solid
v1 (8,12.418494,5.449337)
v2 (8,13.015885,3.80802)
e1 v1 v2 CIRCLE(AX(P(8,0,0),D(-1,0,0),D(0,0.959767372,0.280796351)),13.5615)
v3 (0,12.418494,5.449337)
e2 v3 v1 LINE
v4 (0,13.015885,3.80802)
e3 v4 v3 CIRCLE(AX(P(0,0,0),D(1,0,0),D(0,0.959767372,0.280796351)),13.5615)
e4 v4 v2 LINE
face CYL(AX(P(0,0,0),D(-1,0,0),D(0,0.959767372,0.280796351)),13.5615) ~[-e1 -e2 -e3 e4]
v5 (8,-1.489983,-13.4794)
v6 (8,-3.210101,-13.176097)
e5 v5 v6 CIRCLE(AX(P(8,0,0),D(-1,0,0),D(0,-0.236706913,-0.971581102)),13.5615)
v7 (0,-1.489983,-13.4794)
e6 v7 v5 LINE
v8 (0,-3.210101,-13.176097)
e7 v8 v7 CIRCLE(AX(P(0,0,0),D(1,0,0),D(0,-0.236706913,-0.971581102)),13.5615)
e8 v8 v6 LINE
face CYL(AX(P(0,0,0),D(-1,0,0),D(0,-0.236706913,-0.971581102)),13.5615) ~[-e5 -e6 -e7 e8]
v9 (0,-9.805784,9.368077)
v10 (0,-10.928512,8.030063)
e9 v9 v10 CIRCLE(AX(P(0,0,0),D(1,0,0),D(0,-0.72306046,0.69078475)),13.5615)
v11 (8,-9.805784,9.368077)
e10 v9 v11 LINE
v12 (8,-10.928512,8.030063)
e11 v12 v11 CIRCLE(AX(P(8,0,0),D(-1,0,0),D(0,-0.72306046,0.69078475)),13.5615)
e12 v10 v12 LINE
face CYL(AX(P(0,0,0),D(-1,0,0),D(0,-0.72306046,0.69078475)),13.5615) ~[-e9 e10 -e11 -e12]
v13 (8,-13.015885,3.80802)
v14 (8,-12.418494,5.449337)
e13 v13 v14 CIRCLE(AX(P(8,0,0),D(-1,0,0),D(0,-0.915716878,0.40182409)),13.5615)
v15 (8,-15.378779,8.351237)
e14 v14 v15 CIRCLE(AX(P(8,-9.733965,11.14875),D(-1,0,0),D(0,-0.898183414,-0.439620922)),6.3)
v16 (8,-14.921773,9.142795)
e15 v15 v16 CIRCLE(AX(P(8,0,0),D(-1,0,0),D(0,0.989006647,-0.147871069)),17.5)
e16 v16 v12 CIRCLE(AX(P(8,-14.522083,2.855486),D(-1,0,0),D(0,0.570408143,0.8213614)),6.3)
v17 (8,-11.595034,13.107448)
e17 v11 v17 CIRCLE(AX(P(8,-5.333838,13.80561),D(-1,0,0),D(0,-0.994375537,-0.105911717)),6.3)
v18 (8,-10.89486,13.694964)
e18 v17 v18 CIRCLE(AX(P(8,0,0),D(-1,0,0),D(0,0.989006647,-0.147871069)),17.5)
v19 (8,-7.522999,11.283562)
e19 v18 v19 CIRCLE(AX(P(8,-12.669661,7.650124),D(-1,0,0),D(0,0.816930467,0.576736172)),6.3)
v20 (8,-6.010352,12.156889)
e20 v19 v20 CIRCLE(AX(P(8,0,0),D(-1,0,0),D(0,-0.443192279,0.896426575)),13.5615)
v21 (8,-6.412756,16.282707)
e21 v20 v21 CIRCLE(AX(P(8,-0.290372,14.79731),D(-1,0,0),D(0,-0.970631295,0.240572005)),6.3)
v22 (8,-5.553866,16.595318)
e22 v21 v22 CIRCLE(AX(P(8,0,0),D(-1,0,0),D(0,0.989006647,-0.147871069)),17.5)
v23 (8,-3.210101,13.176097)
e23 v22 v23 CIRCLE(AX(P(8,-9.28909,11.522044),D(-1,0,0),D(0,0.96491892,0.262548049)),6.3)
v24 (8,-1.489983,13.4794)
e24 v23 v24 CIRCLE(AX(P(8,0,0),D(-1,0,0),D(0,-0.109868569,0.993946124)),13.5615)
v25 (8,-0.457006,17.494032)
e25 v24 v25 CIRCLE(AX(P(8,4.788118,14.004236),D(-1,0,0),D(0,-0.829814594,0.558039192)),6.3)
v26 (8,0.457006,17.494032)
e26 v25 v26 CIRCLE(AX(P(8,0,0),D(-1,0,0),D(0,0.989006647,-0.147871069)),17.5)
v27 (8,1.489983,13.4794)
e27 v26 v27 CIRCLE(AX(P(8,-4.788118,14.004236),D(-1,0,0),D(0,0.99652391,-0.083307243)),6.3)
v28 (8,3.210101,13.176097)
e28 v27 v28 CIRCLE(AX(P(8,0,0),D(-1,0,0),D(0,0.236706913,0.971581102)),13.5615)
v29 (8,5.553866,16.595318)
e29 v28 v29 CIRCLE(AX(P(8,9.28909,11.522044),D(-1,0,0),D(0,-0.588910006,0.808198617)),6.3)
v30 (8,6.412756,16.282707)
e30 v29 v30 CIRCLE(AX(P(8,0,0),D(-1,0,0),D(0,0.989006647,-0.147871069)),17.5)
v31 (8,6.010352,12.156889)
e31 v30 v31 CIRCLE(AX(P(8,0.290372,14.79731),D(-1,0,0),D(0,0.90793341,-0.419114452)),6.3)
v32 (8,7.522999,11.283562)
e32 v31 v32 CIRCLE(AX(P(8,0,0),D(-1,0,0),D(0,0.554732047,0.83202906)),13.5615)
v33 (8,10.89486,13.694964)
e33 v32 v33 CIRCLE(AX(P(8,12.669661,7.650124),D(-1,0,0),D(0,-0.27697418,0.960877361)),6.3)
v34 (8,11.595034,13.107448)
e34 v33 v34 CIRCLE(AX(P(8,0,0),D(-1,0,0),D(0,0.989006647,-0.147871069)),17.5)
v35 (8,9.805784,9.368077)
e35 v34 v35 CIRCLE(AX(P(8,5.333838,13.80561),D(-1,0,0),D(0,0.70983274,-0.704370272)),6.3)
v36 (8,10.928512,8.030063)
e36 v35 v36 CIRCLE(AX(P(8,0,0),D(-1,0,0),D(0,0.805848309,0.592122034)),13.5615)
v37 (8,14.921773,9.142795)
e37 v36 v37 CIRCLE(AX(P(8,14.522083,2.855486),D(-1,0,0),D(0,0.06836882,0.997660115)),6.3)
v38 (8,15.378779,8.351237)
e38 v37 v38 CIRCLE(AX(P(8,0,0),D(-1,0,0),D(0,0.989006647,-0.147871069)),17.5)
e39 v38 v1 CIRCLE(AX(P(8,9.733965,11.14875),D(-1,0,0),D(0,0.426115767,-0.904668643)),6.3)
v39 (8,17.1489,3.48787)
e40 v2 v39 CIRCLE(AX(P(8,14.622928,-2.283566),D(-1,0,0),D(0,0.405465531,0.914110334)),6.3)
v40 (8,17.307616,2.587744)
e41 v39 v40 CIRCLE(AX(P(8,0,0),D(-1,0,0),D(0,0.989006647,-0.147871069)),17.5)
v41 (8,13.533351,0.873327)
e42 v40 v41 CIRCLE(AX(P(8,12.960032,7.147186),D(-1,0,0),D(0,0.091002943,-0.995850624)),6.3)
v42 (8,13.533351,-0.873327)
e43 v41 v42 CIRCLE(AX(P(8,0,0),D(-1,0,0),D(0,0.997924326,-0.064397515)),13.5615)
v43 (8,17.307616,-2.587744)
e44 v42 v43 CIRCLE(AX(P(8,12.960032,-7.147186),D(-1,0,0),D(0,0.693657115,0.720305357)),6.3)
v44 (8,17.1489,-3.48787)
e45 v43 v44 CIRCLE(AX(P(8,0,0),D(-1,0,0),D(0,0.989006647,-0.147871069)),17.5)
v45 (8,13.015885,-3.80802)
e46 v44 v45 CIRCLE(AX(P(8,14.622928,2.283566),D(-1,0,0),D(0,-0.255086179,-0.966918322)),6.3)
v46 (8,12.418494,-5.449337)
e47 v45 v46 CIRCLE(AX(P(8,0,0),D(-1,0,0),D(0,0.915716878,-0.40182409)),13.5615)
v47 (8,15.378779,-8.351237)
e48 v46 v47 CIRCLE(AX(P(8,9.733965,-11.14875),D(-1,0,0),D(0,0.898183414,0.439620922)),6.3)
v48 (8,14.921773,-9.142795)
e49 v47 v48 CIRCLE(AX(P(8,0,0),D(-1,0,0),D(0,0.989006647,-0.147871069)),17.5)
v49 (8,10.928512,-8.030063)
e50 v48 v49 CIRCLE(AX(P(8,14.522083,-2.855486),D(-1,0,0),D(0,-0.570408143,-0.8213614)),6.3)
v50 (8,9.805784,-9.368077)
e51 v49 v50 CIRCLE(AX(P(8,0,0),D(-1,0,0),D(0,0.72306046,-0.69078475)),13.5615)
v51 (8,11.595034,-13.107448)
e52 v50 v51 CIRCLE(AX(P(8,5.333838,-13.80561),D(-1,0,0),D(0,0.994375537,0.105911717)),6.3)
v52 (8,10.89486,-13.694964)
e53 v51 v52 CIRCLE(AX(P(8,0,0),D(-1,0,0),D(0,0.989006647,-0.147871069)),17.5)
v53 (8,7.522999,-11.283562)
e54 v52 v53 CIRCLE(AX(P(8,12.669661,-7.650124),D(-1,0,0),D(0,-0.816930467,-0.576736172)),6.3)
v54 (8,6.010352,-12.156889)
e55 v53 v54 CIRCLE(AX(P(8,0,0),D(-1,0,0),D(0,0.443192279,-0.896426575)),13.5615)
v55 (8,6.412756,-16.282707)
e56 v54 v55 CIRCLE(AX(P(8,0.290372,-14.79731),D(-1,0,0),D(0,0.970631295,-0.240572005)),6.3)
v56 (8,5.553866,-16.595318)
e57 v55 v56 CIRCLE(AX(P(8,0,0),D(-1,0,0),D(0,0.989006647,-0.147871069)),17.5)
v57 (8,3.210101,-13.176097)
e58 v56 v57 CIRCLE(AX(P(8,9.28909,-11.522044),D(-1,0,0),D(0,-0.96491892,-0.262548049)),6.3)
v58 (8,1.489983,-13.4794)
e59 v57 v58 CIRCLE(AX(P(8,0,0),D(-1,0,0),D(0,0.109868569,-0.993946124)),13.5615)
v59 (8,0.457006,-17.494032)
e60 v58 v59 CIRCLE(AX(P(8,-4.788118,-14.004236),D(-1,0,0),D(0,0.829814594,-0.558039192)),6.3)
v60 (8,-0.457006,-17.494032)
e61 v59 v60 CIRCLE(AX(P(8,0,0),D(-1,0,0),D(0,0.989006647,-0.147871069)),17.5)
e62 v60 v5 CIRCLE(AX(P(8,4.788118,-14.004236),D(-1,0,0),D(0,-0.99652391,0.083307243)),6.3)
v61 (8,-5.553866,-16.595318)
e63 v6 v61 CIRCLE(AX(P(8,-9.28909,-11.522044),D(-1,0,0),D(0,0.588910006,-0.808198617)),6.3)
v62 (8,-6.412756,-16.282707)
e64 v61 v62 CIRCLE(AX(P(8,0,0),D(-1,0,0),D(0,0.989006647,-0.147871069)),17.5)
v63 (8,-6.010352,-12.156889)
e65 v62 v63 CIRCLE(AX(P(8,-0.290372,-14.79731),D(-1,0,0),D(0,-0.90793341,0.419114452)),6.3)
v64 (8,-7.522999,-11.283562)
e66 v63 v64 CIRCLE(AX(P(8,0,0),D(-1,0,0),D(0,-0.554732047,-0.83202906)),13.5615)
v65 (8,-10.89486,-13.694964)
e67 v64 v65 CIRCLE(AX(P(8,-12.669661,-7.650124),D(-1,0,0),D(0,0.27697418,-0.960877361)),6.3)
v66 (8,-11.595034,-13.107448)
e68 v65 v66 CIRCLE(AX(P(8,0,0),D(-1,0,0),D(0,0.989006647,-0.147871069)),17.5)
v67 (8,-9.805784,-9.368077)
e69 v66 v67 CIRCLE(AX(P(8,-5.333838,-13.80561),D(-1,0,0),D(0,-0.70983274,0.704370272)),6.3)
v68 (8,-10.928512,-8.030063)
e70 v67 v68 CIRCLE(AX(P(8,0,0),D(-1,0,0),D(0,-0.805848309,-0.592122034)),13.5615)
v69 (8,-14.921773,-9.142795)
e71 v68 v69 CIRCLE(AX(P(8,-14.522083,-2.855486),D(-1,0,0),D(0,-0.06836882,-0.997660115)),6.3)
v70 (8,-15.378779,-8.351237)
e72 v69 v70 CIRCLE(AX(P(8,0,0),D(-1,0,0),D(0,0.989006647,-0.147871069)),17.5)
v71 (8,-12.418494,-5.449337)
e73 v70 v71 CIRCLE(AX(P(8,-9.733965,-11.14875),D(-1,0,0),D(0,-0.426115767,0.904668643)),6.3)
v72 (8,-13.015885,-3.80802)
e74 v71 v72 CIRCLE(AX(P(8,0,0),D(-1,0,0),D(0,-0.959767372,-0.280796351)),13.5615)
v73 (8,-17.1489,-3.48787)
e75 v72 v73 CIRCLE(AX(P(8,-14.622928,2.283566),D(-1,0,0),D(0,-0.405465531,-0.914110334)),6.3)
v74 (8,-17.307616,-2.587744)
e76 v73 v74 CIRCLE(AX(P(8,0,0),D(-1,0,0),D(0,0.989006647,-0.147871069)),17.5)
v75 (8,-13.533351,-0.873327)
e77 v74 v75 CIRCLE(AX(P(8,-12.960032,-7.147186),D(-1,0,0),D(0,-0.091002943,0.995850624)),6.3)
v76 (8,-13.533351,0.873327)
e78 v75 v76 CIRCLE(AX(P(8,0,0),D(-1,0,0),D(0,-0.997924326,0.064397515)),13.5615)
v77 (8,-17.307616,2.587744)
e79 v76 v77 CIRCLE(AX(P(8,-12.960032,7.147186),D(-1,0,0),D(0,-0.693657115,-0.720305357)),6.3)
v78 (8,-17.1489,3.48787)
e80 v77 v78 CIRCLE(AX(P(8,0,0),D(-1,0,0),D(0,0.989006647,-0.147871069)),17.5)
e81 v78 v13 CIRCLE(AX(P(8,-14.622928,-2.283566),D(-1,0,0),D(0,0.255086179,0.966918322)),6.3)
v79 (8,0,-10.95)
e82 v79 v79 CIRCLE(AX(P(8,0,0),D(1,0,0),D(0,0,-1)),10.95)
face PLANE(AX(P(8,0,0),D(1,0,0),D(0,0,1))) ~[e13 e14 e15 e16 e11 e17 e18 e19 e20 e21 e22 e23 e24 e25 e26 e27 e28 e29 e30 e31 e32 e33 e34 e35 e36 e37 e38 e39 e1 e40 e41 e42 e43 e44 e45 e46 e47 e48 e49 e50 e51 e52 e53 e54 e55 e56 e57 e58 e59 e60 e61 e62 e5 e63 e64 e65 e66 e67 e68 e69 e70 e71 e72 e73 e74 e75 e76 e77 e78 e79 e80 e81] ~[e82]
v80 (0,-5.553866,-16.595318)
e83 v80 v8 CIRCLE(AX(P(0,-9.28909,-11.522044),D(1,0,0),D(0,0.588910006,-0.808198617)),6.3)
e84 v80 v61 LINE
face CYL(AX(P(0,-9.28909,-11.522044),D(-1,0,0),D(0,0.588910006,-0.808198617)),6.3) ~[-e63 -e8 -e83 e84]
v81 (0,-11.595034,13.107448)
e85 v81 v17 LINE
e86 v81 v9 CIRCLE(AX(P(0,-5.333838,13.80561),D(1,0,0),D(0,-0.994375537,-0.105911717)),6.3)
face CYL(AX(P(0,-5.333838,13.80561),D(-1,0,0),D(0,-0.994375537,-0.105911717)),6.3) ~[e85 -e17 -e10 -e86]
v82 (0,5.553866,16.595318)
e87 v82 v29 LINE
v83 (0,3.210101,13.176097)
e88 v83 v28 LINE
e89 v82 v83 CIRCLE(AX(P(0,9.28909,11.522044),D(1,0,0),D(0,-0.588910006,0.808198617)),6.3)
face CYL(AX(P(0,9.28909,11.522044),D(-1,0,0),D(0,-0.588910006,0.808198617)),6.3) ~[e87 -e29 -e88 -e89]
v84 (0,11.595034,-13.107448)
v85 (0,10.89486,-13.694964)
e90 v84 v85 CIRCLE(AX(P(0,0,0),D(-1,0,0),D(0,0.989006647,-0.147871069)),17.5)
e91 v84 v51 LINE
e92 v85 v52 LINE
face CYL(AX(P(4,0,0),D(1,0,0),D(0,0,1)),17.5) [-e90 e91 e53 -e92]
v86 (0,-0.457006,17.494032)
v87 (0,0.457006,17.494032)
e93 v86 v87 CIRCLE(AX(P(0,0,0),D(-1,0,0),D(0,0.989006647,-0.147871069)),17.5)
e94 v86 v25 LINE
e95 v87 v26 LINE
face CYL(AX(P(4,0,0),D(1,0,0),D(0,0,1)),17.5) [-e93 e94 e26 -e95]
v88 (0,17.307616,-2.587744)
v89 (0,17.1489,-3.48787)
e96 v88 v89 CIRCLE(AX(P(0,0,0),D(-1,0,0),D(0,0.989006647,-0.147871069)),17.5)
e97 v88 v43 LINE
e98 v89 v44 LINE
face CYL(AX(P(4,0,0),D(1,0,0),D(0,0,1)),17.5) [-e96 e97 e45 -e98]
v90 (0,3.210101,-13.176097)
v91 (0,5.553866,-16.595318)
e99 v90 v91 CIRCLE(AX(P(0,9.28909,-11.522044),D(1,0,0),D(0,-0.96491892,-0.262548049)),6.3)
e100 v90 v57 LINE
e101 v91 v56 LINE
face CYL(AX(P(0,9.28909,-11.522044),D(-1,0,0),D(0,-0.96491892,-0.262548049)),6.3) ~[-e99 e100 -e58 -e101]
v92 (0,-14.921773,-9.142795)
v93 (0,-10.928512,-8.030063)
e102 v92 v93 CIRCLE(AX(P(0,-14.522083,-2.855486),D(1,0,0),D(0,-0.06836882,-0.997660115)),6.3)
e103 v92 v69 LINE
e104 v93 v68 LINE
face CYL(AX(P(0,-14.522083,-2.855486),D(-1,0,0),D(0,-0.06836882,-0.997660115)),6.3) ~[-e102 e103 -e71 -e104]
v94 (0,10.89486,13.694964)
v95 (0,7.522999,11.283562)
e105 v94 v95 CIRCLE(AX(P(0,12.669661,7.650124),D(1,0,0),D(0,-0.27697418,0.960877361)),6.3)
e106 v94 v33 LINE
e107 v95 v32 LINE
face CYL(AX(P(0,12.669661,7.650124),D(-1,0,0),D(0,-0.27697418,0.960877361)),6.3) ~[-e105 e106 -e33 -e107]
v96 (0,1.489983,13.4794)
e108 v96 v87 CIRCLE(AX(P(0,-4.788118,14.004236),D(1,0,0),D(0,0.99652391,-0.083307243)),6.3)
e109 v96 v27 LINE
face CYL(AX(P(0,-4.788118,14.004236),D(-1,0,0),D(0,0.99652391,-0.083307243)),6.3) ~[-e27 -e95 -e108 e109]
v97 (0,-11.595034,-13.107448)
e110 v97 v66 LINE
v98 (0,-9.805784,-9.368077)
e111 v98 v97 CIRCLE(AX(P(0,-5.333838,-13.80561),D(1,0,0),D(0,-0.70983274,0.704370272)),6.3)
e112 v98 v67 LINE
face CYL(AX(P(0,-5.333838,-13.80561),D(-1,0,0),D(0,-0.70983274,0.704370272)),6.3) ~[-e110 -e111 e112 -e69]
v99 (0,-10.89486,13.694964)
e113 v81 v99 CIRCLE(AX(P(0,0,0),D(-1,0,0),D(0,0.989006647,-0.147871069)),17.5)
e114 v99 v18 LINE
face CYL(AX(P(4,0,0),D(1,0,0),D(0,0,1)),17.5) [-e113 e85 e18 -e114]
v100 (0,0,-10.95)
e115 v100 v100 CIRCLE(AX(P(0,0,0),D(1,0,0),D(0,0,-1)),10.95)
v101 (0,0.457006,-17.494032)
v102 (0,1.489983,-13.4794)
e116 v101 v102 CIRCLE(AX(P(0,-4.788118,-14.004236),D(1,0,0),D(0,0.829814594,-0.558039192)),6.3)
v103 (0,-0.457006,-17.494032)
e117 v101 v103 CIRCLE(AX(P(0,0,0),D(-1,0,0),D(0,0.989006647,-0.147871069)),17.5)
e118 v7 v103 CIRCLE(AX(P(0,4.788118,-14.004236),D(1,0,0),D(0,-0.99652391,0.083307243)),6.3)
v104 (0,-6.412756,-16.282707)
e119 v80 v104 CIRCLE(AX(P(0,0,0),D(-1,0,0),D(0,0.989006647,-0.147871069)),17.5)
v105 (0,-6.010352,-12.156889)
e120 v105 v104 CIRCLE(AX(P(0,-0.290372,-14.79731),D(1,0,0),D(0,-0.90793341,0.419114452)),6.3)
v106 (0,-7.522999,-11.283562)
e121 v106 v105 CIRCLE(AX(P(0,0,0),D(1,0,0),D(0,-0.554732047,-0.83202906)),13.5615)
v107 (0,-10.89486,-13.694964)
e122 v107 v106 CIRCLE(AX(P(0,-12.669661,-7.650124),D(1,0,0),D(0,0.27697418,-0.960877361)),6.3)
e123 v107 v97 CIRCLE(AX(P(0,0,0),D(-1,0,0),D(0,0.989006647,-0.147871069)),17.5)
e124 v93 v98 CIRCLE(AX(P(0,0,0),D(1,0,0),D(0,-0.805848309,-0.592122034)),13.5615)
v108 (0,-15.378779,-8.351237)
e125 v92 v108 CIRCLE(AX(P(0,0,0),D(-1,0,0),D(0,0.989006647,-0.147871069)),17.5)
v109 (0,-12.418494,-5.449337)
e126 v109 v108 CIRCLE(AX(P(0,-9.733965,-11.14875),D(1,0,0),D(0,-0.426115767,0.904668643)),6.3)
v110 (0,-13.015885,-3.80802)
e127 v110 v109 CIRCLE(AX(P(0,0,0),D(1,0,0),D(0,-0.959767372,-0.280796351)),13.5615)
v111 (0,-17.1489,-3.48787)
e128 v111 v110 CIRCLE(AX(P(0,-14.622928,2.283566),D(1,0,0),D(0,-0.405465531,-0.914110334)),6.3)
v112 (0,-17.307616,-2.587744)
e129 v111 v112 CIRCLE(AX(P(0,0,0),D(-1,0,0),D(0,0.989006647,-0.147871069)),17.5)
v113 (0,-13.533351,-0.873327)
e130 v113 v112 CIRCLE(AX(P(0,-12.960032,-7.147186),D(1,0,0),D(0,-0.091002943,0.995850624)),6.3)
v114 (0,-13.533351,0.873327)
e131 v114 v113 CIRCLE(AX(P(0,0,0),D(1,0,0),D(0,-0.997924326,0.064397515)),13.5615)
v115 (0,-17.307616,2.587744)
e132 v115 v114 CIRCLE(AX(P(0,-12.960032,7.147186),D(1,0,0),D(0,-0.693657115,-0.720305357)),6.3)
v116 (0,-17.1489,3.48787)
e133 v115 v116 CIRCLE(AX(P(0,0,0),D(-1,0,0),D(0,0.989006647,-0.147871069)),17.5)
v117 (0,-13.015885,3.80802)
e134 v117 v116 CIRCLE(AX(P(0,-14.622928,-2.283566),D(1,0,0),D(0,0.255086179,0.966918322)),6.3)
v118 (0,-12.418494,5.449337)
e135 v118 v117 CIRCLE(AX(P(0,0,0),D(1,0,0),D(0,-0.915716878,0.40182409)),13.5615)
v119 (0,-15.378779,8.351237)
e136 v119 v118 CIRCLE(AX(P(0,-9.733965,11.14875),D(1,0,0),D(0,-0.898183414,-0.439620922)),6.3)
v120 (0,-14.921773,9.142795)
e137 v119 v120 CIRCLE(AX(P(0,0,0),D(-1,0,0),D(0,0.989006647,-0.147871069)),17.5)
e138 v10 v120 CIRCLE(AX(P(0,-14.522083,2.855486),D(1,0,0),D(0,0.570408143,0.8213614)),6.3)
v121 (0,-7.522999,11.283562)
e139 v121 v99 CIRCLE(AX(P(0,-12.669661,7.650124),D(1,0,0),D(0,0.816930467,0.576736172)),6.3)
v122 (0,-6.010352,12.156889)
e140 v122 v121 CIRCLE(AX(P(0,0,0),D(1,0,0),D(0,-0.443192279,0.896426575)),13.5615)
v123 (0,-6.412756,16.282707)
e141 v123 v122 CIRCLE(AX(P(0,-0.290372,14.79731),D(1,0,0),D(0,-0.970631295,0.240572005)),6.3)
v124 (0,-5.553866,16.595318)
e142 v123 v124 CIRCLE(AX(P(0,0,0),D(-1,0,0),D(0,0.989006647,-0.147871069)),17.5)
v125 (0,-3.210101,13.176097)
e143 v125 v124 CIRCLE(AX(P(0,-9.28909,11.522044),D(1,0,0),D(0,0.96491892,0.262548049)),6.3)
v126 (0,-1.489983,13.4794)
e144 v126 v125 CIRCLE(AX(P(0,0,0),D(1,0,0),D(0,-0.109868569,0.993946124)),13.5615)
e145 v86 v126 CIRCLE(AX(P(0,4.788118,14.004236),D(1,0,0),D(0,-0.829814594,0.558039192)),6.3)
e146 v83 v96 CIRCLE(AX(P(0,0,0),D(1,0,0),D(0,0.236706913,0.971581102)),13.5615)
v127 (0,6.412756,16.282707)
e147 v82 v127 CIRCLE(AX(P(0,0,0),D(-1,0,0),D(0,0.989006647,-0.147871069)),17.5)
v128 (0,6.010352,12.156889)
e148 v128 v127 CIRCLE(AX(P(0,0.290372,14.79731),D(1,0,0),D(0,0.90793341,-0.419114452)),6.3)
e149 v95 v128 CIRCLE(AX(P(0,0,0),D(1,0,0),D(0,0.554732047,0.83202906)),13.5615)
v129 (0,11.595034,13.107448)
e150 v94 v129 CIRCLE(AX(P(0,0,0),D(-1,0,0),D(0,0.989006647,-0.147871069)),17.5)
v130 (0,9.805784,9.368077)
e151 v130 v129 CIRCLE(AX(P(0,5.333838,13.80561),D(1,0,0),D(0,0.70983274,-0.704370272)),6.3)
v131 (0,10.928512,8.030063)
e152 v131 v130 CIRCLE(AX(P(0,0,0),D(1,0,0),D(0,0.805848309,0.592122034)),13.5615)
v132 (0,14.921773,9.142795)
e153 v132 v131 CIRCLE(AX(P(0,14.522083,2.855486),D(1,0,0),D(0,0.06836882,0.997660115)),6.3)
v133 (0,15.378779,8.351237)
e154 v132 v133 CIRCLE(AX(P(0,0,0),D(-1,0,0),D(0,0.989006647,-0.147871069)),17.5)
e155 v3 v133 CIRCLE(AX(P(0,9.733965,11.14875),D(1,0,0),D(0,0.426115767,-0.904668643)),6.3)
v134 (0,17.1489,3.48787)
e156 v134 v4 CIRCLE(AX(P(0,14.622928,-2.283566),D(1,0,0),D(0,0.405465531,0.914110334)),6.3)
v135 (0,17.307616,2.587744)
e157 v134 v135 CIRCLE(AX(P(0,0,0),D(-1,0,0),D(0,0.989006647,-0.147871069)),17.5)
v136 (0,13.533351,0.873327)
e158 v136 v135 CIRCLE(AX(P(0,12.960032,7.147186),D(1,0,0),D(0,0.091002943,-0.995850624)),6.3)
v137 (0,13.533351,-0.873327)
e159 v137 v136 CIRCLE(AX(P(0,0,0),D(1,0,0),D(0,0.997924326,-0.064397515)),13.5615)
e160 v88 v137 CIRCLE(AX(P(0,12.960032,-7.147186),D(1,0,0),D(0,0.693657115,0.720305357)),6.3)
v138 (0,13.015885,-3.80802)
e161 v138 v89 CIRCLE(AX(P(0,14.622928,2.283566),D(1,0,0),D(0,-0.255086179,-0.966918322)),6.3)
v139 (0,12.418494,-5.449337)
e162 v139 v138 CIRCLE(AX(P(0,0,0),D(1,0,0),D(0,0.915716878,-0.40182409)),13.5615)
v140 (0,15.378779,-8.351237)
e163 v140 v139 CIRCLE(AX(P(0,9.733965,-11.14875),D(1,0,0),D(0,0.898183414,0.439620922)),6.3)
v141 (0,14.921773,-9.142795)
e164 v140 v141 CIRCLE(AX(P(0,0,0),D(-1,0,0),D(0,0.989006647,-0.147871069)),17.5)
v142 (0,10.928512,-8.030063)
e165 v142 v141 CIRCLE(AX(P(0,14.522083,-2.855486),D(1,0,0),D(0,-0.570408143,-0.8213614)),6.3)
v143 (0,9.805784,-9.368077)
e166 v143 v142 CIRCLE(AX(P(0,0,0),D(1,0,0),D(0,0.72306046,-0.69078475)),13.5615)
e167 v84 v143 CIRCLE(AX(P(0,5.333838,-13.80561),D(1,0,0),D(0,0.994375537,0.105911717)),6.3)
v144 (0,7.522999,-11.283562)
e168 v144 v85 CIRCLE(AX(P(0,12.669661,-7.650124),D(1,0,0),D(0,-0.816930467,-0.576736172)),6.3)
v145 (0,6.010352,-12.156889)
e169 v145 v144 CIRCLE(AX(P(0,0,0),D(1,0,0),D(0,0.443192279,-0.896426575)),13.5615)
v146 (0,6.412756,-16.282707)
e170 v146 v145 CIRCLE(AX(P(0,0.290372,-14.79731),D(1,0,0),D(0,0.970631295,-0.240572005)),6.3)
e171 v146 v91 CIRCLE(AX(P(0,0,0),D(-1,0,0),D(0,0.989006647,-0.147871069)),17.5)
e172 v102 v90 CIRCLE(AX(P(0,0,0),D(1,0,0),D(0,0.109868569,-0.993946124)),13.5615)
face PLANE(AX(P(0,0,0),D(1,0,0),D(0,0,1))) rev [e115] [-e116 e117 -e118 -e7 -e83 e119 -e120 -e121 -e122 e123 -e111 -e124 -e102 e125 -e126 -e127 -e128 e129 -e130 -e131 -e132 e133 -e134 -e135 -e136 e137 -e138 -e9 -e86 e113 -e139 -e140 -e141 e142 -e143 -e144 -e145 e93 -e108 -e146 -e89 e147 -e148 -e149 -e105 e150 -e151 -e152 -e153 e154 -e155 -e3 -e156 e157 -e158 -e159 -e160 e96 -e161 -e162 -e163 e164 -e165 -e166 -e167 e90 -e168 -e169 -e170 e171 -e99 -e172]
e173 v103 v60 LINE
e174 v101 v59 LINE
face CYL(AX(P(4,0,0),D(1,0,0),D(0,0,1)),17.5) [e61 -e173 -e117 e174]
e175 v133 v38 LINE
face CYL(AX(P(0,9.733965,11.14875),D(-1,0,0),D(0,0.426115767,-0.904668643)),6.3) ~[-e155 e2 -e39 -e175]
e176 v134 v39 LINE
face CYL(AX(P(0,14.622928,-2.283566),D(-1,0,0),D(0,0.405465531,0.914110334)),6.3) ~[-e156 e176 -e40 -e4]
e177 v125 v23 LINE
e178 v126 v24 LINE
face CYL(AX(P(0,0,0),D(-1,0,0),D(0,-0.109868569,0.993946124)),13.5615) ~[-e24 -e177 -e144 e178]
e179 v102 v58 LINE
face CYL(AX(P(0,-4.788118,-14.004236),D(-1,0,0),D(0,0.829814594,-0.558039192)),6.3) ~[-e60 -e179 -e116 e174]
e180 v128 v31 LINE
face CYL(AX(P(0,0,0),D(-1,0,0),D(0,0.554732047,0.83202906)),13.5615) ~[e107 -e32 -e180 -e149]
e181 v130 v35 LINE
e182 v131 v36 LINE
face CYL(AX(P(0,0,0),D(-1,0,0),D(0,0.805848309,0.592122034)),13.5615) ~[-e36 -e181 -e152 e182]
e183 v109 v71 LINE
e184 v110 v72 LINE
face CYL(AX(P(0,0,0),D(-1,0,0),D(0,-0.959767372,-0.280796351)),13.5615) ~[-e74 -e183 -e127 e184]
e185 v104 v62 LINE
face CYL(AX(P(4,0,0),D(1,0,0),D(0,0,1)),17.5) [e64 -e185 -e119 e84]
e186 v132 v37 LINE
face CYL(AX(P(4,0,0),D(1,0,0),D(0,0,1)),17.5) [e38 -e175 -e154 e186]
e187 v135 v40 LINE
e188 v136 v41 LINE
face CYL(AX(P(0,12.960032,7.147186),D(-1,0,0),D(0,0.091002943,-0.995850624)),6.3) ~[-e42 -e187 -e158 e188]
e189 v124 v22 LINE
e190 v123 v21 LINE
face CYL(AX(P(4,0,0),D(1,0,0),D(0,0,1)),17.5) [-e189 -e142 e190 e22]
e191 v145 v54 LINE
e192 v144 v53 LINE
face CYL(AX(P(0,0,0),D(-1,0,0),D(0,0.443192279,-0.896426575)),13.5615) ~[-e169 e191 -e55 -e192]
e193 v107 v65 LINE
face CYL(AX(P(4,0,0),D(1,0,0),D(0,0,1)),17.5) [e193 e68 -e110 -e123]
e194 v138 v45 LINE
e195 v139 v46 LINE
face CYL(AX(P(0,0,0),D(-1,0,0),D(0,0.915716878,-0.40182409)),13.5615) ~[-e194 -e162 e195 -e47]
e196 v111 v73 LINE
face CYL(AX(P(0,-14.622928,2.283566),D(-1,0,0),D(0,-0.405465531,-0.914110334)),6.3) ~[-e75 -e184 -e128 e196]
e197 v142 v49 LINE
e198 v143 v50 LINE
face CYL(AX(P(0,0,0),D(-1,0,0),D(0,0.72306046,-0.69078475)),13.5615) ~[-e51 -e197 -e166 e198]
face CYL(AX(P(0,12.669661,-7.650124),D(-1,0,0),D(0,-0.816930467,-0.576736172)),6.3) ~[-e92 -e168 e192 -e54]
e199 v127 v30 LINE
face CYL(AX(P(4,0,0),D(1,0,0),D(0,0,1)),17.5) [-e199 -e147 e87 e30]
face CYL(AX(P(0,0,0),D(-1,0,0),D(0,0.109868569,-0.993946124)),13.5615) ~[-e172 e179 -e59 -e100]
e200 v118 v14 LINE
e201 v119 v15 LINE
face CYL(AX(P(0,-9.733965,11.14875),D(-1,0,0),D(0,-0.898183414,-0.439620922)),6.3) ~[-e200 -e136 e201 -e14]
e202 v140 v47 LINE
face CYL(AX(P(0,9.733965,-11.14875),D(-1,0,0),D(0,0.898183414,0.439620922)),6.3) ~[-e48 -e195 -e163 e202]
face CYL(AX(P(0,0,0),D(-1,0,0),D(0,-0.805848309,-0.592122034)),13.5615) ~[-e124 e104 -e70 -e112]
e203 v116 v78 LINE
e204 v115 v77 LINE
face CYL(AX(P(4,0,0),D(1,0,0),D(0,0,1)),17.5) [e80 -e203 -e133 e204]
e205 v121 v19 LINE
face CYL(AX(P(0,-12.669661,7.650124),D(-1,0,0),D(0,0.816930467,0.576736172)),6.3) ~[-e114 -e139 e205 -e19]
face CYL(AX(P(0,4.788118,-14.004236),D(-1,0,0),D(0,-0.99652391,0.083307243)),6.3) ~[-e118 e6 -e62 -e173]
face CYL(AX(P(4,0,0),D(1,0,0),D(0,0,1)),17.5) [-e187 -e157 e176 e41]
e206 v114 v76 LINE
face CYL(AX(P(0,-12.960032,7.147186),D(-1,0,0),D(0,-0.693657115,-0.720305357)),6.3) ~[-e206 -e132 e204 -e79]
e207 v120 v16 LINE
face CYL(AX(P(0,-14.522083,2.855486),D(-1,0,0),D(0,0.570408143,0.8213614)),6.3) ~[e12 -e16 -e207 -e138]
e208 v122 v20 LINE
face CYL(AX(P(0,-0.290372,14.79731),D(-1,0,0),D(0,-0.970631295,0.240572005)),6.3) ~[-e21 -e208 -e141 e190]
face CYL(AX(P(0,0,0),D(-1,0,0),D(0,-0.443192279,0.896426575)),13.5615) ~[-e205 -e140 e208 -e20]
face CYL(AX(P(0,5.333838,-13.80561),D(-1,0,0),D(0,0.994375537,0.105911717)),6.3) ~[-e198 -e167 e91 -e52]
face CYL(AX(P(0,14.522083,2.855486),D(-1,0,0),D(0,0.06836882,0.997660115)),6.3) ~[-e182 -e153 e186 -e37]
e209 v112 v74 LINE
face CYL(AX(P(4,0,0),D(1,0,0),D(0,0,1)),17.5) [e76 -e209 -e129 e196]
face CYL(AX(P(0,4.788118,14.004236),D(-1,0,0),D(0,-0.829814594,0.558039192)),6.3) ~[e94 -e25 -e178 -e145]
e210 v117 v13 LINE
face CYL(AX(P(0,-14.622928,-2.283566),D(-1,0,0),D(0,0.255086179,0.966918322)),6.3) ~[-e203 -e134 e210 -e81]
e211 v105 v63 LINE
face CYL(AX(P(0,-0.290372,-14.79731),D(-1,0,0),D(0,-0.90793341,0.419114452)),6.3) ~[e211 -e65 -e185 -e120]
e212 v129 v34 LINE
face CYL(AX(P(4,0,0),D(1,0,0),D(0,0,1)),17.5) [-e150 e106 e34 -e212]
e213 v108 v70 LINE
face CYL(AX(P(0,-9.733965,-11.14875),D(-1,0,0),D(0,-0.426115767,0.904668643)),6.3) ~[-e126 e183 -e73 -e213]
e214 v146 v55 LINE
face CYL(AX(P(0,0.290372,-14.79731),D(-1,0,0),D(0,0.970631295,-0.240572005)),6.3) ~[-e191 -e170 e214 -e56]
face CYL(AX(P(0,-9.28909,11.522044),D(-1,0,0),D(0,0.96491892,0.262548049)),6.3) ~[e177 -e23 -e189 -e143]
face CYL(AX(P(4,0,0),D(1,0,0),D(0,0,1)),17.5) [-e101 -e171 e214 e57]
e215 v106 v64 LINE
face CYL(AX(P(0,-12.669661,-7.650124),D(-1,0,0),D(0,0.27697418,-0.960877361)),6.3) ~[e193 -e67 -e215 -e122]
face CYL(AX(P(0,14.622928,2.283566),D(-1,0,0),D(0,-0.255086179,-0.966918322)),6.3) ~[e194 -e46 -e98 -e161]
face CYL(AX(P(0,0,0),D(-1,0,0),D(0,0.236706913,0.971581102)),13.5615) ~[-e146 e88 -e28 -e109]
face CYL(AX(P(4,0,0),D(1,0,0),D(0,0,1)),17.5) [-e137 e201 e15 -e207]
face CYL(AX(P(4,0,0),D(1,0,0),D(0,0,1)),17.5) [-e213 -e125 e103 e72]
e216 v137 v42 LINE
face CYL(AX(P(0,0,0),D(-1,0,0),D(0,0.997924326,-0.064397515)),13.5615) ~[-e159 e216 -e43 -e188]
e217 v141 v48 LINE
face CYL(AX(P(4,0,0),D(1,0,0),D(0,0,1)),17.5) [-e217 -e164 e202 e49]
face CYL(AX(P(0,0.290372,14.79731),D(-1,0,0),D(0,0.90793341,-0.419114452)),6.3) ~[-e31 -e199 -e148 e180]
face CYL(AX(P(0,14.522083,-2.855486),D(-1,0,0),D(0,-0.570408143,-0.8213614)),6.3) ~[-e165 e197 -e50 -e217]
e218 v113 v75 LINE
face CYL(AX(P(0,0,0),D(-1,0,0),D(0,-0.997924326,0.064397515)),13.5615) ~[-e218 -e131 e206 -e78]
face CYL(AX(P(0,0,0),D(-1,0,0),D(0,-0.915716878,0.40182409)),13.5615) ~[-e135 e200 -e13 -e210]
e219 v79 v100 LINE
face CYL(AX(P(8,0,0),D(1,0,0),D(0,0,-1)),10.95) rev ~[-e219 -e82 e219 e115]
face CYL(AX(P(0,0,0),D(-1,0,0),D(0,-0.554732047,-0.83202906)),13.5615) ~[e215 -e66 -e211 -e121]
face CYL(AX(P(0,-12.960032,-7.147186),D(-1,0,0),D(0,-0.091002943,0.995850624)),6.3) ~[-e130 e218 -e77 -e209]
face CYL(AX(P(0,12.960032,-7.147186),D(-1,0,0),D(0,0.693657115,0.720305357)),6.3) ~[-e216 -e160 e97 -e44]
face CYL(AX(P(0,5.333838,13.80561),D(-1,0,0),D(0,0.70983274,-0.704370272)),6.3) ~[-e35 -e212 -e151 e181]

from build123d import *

# Parameters (mm, degrees)
BASPROSKE_W             = 8
BASPROSKE_H             = 17.5
TOOTHCUT_DEPTH          = 27.009613607
TEETHCUTS_COUNT         = 18
TEETHCUTS_ANGLE         = 340
BORSKE_R                = 4
BORE_DEPTH              = 50.0000508
ESQUISSE1_R             = 10.95
ENL_V_MAT_EXTRU_1_DEPTH = 10


with BuildPart() as part:
    # BasProSke → Base-Revolve (revolve)
    with BuildSketch(Plane(origin=(0, 0, 0), x_dir=(1, 0, 0), z_dir=(0, 1, 0)), mode=Mode.PRIVATE) as base_revolve_sk:
        with Locations((4, 8.75)):
            Rectangle(BASPROSKE_W, BASPROSKE_H)
    revolve(base_revolve_sk.sketch.rotate(Axis((-10, 0, 0), (1, 0, 0)), 180), axis=Axis((-10, 0, 0), (1, 0, 0)))

    # TooCutSke → ToothCut (cut, through all)
    with BuildSketch(Plane(origin=(0, 0, 0), x_dir=(0, 0, -1), z_dir=(1, 0, 0))):
        with BuildLine():
            ThreePointArc((0.873326889, 13.533350745), (0, 13.5615), (-0.873326889, 13.533350745))
            ThreePointArc((-0.873326889, 13.533350745), (-1.417662776, 15.579682129), (-2.609262071, 17.330072031))
            ThreePointArc((-2.609262071, 17.330072031), (0, 17.5254), (2.609262071, 17.330072031))
            ThreePointArc((2.609262071, 17.330072031), (1.417662776, 15.579682129), (0.873326889, 13.533350745))
        make_face()
    toothcut = extrude(amount=TOOTHCUT_DEPTH, mode=Mode.SUBTRACT)

    # TeethCuts: ToothCut ×18 about axis
    teethcuts_axis = Axis((-10, 0, 0), (1, 0, 0))
    for i in range(1, TEETHCUTS_COUNT):
        add(toothcut.rotate(teethcuts_axis, i * TEETHCUTS_ANGLE / (TEETHCUTS_COUNT - 1)), mode=Mode.SUBTRACT)

    # BorSke → Bore (cut, symmetric)
    with BuildSketch(Plane(origin=(0, 0, 0), x_dir=(0, 0, -1), z_dir=(1, 0, 0))):
        with Locations(Location((0, 0, 0), (0, 0, 180))):
            Circle(BORSKE_R)
    extrude(amount=BORE_DEPTH, both=True, mode=Mode.SUBTRACT)

    # Esquisse1 → Enlèv. mat.-Extru.1 (cut)
    with BuildSketch(Plane(origin=(8, 0, 0), x_dir=(0, 0, -1), z_dir=(1, 0, 0))):
        Circle(ESQUISSE1_R)
    extrude(amount=-ENL_V_MAT_EXTRU_1_DEPTH, mode=Mode.SUBTRACT)


solid = part.part
